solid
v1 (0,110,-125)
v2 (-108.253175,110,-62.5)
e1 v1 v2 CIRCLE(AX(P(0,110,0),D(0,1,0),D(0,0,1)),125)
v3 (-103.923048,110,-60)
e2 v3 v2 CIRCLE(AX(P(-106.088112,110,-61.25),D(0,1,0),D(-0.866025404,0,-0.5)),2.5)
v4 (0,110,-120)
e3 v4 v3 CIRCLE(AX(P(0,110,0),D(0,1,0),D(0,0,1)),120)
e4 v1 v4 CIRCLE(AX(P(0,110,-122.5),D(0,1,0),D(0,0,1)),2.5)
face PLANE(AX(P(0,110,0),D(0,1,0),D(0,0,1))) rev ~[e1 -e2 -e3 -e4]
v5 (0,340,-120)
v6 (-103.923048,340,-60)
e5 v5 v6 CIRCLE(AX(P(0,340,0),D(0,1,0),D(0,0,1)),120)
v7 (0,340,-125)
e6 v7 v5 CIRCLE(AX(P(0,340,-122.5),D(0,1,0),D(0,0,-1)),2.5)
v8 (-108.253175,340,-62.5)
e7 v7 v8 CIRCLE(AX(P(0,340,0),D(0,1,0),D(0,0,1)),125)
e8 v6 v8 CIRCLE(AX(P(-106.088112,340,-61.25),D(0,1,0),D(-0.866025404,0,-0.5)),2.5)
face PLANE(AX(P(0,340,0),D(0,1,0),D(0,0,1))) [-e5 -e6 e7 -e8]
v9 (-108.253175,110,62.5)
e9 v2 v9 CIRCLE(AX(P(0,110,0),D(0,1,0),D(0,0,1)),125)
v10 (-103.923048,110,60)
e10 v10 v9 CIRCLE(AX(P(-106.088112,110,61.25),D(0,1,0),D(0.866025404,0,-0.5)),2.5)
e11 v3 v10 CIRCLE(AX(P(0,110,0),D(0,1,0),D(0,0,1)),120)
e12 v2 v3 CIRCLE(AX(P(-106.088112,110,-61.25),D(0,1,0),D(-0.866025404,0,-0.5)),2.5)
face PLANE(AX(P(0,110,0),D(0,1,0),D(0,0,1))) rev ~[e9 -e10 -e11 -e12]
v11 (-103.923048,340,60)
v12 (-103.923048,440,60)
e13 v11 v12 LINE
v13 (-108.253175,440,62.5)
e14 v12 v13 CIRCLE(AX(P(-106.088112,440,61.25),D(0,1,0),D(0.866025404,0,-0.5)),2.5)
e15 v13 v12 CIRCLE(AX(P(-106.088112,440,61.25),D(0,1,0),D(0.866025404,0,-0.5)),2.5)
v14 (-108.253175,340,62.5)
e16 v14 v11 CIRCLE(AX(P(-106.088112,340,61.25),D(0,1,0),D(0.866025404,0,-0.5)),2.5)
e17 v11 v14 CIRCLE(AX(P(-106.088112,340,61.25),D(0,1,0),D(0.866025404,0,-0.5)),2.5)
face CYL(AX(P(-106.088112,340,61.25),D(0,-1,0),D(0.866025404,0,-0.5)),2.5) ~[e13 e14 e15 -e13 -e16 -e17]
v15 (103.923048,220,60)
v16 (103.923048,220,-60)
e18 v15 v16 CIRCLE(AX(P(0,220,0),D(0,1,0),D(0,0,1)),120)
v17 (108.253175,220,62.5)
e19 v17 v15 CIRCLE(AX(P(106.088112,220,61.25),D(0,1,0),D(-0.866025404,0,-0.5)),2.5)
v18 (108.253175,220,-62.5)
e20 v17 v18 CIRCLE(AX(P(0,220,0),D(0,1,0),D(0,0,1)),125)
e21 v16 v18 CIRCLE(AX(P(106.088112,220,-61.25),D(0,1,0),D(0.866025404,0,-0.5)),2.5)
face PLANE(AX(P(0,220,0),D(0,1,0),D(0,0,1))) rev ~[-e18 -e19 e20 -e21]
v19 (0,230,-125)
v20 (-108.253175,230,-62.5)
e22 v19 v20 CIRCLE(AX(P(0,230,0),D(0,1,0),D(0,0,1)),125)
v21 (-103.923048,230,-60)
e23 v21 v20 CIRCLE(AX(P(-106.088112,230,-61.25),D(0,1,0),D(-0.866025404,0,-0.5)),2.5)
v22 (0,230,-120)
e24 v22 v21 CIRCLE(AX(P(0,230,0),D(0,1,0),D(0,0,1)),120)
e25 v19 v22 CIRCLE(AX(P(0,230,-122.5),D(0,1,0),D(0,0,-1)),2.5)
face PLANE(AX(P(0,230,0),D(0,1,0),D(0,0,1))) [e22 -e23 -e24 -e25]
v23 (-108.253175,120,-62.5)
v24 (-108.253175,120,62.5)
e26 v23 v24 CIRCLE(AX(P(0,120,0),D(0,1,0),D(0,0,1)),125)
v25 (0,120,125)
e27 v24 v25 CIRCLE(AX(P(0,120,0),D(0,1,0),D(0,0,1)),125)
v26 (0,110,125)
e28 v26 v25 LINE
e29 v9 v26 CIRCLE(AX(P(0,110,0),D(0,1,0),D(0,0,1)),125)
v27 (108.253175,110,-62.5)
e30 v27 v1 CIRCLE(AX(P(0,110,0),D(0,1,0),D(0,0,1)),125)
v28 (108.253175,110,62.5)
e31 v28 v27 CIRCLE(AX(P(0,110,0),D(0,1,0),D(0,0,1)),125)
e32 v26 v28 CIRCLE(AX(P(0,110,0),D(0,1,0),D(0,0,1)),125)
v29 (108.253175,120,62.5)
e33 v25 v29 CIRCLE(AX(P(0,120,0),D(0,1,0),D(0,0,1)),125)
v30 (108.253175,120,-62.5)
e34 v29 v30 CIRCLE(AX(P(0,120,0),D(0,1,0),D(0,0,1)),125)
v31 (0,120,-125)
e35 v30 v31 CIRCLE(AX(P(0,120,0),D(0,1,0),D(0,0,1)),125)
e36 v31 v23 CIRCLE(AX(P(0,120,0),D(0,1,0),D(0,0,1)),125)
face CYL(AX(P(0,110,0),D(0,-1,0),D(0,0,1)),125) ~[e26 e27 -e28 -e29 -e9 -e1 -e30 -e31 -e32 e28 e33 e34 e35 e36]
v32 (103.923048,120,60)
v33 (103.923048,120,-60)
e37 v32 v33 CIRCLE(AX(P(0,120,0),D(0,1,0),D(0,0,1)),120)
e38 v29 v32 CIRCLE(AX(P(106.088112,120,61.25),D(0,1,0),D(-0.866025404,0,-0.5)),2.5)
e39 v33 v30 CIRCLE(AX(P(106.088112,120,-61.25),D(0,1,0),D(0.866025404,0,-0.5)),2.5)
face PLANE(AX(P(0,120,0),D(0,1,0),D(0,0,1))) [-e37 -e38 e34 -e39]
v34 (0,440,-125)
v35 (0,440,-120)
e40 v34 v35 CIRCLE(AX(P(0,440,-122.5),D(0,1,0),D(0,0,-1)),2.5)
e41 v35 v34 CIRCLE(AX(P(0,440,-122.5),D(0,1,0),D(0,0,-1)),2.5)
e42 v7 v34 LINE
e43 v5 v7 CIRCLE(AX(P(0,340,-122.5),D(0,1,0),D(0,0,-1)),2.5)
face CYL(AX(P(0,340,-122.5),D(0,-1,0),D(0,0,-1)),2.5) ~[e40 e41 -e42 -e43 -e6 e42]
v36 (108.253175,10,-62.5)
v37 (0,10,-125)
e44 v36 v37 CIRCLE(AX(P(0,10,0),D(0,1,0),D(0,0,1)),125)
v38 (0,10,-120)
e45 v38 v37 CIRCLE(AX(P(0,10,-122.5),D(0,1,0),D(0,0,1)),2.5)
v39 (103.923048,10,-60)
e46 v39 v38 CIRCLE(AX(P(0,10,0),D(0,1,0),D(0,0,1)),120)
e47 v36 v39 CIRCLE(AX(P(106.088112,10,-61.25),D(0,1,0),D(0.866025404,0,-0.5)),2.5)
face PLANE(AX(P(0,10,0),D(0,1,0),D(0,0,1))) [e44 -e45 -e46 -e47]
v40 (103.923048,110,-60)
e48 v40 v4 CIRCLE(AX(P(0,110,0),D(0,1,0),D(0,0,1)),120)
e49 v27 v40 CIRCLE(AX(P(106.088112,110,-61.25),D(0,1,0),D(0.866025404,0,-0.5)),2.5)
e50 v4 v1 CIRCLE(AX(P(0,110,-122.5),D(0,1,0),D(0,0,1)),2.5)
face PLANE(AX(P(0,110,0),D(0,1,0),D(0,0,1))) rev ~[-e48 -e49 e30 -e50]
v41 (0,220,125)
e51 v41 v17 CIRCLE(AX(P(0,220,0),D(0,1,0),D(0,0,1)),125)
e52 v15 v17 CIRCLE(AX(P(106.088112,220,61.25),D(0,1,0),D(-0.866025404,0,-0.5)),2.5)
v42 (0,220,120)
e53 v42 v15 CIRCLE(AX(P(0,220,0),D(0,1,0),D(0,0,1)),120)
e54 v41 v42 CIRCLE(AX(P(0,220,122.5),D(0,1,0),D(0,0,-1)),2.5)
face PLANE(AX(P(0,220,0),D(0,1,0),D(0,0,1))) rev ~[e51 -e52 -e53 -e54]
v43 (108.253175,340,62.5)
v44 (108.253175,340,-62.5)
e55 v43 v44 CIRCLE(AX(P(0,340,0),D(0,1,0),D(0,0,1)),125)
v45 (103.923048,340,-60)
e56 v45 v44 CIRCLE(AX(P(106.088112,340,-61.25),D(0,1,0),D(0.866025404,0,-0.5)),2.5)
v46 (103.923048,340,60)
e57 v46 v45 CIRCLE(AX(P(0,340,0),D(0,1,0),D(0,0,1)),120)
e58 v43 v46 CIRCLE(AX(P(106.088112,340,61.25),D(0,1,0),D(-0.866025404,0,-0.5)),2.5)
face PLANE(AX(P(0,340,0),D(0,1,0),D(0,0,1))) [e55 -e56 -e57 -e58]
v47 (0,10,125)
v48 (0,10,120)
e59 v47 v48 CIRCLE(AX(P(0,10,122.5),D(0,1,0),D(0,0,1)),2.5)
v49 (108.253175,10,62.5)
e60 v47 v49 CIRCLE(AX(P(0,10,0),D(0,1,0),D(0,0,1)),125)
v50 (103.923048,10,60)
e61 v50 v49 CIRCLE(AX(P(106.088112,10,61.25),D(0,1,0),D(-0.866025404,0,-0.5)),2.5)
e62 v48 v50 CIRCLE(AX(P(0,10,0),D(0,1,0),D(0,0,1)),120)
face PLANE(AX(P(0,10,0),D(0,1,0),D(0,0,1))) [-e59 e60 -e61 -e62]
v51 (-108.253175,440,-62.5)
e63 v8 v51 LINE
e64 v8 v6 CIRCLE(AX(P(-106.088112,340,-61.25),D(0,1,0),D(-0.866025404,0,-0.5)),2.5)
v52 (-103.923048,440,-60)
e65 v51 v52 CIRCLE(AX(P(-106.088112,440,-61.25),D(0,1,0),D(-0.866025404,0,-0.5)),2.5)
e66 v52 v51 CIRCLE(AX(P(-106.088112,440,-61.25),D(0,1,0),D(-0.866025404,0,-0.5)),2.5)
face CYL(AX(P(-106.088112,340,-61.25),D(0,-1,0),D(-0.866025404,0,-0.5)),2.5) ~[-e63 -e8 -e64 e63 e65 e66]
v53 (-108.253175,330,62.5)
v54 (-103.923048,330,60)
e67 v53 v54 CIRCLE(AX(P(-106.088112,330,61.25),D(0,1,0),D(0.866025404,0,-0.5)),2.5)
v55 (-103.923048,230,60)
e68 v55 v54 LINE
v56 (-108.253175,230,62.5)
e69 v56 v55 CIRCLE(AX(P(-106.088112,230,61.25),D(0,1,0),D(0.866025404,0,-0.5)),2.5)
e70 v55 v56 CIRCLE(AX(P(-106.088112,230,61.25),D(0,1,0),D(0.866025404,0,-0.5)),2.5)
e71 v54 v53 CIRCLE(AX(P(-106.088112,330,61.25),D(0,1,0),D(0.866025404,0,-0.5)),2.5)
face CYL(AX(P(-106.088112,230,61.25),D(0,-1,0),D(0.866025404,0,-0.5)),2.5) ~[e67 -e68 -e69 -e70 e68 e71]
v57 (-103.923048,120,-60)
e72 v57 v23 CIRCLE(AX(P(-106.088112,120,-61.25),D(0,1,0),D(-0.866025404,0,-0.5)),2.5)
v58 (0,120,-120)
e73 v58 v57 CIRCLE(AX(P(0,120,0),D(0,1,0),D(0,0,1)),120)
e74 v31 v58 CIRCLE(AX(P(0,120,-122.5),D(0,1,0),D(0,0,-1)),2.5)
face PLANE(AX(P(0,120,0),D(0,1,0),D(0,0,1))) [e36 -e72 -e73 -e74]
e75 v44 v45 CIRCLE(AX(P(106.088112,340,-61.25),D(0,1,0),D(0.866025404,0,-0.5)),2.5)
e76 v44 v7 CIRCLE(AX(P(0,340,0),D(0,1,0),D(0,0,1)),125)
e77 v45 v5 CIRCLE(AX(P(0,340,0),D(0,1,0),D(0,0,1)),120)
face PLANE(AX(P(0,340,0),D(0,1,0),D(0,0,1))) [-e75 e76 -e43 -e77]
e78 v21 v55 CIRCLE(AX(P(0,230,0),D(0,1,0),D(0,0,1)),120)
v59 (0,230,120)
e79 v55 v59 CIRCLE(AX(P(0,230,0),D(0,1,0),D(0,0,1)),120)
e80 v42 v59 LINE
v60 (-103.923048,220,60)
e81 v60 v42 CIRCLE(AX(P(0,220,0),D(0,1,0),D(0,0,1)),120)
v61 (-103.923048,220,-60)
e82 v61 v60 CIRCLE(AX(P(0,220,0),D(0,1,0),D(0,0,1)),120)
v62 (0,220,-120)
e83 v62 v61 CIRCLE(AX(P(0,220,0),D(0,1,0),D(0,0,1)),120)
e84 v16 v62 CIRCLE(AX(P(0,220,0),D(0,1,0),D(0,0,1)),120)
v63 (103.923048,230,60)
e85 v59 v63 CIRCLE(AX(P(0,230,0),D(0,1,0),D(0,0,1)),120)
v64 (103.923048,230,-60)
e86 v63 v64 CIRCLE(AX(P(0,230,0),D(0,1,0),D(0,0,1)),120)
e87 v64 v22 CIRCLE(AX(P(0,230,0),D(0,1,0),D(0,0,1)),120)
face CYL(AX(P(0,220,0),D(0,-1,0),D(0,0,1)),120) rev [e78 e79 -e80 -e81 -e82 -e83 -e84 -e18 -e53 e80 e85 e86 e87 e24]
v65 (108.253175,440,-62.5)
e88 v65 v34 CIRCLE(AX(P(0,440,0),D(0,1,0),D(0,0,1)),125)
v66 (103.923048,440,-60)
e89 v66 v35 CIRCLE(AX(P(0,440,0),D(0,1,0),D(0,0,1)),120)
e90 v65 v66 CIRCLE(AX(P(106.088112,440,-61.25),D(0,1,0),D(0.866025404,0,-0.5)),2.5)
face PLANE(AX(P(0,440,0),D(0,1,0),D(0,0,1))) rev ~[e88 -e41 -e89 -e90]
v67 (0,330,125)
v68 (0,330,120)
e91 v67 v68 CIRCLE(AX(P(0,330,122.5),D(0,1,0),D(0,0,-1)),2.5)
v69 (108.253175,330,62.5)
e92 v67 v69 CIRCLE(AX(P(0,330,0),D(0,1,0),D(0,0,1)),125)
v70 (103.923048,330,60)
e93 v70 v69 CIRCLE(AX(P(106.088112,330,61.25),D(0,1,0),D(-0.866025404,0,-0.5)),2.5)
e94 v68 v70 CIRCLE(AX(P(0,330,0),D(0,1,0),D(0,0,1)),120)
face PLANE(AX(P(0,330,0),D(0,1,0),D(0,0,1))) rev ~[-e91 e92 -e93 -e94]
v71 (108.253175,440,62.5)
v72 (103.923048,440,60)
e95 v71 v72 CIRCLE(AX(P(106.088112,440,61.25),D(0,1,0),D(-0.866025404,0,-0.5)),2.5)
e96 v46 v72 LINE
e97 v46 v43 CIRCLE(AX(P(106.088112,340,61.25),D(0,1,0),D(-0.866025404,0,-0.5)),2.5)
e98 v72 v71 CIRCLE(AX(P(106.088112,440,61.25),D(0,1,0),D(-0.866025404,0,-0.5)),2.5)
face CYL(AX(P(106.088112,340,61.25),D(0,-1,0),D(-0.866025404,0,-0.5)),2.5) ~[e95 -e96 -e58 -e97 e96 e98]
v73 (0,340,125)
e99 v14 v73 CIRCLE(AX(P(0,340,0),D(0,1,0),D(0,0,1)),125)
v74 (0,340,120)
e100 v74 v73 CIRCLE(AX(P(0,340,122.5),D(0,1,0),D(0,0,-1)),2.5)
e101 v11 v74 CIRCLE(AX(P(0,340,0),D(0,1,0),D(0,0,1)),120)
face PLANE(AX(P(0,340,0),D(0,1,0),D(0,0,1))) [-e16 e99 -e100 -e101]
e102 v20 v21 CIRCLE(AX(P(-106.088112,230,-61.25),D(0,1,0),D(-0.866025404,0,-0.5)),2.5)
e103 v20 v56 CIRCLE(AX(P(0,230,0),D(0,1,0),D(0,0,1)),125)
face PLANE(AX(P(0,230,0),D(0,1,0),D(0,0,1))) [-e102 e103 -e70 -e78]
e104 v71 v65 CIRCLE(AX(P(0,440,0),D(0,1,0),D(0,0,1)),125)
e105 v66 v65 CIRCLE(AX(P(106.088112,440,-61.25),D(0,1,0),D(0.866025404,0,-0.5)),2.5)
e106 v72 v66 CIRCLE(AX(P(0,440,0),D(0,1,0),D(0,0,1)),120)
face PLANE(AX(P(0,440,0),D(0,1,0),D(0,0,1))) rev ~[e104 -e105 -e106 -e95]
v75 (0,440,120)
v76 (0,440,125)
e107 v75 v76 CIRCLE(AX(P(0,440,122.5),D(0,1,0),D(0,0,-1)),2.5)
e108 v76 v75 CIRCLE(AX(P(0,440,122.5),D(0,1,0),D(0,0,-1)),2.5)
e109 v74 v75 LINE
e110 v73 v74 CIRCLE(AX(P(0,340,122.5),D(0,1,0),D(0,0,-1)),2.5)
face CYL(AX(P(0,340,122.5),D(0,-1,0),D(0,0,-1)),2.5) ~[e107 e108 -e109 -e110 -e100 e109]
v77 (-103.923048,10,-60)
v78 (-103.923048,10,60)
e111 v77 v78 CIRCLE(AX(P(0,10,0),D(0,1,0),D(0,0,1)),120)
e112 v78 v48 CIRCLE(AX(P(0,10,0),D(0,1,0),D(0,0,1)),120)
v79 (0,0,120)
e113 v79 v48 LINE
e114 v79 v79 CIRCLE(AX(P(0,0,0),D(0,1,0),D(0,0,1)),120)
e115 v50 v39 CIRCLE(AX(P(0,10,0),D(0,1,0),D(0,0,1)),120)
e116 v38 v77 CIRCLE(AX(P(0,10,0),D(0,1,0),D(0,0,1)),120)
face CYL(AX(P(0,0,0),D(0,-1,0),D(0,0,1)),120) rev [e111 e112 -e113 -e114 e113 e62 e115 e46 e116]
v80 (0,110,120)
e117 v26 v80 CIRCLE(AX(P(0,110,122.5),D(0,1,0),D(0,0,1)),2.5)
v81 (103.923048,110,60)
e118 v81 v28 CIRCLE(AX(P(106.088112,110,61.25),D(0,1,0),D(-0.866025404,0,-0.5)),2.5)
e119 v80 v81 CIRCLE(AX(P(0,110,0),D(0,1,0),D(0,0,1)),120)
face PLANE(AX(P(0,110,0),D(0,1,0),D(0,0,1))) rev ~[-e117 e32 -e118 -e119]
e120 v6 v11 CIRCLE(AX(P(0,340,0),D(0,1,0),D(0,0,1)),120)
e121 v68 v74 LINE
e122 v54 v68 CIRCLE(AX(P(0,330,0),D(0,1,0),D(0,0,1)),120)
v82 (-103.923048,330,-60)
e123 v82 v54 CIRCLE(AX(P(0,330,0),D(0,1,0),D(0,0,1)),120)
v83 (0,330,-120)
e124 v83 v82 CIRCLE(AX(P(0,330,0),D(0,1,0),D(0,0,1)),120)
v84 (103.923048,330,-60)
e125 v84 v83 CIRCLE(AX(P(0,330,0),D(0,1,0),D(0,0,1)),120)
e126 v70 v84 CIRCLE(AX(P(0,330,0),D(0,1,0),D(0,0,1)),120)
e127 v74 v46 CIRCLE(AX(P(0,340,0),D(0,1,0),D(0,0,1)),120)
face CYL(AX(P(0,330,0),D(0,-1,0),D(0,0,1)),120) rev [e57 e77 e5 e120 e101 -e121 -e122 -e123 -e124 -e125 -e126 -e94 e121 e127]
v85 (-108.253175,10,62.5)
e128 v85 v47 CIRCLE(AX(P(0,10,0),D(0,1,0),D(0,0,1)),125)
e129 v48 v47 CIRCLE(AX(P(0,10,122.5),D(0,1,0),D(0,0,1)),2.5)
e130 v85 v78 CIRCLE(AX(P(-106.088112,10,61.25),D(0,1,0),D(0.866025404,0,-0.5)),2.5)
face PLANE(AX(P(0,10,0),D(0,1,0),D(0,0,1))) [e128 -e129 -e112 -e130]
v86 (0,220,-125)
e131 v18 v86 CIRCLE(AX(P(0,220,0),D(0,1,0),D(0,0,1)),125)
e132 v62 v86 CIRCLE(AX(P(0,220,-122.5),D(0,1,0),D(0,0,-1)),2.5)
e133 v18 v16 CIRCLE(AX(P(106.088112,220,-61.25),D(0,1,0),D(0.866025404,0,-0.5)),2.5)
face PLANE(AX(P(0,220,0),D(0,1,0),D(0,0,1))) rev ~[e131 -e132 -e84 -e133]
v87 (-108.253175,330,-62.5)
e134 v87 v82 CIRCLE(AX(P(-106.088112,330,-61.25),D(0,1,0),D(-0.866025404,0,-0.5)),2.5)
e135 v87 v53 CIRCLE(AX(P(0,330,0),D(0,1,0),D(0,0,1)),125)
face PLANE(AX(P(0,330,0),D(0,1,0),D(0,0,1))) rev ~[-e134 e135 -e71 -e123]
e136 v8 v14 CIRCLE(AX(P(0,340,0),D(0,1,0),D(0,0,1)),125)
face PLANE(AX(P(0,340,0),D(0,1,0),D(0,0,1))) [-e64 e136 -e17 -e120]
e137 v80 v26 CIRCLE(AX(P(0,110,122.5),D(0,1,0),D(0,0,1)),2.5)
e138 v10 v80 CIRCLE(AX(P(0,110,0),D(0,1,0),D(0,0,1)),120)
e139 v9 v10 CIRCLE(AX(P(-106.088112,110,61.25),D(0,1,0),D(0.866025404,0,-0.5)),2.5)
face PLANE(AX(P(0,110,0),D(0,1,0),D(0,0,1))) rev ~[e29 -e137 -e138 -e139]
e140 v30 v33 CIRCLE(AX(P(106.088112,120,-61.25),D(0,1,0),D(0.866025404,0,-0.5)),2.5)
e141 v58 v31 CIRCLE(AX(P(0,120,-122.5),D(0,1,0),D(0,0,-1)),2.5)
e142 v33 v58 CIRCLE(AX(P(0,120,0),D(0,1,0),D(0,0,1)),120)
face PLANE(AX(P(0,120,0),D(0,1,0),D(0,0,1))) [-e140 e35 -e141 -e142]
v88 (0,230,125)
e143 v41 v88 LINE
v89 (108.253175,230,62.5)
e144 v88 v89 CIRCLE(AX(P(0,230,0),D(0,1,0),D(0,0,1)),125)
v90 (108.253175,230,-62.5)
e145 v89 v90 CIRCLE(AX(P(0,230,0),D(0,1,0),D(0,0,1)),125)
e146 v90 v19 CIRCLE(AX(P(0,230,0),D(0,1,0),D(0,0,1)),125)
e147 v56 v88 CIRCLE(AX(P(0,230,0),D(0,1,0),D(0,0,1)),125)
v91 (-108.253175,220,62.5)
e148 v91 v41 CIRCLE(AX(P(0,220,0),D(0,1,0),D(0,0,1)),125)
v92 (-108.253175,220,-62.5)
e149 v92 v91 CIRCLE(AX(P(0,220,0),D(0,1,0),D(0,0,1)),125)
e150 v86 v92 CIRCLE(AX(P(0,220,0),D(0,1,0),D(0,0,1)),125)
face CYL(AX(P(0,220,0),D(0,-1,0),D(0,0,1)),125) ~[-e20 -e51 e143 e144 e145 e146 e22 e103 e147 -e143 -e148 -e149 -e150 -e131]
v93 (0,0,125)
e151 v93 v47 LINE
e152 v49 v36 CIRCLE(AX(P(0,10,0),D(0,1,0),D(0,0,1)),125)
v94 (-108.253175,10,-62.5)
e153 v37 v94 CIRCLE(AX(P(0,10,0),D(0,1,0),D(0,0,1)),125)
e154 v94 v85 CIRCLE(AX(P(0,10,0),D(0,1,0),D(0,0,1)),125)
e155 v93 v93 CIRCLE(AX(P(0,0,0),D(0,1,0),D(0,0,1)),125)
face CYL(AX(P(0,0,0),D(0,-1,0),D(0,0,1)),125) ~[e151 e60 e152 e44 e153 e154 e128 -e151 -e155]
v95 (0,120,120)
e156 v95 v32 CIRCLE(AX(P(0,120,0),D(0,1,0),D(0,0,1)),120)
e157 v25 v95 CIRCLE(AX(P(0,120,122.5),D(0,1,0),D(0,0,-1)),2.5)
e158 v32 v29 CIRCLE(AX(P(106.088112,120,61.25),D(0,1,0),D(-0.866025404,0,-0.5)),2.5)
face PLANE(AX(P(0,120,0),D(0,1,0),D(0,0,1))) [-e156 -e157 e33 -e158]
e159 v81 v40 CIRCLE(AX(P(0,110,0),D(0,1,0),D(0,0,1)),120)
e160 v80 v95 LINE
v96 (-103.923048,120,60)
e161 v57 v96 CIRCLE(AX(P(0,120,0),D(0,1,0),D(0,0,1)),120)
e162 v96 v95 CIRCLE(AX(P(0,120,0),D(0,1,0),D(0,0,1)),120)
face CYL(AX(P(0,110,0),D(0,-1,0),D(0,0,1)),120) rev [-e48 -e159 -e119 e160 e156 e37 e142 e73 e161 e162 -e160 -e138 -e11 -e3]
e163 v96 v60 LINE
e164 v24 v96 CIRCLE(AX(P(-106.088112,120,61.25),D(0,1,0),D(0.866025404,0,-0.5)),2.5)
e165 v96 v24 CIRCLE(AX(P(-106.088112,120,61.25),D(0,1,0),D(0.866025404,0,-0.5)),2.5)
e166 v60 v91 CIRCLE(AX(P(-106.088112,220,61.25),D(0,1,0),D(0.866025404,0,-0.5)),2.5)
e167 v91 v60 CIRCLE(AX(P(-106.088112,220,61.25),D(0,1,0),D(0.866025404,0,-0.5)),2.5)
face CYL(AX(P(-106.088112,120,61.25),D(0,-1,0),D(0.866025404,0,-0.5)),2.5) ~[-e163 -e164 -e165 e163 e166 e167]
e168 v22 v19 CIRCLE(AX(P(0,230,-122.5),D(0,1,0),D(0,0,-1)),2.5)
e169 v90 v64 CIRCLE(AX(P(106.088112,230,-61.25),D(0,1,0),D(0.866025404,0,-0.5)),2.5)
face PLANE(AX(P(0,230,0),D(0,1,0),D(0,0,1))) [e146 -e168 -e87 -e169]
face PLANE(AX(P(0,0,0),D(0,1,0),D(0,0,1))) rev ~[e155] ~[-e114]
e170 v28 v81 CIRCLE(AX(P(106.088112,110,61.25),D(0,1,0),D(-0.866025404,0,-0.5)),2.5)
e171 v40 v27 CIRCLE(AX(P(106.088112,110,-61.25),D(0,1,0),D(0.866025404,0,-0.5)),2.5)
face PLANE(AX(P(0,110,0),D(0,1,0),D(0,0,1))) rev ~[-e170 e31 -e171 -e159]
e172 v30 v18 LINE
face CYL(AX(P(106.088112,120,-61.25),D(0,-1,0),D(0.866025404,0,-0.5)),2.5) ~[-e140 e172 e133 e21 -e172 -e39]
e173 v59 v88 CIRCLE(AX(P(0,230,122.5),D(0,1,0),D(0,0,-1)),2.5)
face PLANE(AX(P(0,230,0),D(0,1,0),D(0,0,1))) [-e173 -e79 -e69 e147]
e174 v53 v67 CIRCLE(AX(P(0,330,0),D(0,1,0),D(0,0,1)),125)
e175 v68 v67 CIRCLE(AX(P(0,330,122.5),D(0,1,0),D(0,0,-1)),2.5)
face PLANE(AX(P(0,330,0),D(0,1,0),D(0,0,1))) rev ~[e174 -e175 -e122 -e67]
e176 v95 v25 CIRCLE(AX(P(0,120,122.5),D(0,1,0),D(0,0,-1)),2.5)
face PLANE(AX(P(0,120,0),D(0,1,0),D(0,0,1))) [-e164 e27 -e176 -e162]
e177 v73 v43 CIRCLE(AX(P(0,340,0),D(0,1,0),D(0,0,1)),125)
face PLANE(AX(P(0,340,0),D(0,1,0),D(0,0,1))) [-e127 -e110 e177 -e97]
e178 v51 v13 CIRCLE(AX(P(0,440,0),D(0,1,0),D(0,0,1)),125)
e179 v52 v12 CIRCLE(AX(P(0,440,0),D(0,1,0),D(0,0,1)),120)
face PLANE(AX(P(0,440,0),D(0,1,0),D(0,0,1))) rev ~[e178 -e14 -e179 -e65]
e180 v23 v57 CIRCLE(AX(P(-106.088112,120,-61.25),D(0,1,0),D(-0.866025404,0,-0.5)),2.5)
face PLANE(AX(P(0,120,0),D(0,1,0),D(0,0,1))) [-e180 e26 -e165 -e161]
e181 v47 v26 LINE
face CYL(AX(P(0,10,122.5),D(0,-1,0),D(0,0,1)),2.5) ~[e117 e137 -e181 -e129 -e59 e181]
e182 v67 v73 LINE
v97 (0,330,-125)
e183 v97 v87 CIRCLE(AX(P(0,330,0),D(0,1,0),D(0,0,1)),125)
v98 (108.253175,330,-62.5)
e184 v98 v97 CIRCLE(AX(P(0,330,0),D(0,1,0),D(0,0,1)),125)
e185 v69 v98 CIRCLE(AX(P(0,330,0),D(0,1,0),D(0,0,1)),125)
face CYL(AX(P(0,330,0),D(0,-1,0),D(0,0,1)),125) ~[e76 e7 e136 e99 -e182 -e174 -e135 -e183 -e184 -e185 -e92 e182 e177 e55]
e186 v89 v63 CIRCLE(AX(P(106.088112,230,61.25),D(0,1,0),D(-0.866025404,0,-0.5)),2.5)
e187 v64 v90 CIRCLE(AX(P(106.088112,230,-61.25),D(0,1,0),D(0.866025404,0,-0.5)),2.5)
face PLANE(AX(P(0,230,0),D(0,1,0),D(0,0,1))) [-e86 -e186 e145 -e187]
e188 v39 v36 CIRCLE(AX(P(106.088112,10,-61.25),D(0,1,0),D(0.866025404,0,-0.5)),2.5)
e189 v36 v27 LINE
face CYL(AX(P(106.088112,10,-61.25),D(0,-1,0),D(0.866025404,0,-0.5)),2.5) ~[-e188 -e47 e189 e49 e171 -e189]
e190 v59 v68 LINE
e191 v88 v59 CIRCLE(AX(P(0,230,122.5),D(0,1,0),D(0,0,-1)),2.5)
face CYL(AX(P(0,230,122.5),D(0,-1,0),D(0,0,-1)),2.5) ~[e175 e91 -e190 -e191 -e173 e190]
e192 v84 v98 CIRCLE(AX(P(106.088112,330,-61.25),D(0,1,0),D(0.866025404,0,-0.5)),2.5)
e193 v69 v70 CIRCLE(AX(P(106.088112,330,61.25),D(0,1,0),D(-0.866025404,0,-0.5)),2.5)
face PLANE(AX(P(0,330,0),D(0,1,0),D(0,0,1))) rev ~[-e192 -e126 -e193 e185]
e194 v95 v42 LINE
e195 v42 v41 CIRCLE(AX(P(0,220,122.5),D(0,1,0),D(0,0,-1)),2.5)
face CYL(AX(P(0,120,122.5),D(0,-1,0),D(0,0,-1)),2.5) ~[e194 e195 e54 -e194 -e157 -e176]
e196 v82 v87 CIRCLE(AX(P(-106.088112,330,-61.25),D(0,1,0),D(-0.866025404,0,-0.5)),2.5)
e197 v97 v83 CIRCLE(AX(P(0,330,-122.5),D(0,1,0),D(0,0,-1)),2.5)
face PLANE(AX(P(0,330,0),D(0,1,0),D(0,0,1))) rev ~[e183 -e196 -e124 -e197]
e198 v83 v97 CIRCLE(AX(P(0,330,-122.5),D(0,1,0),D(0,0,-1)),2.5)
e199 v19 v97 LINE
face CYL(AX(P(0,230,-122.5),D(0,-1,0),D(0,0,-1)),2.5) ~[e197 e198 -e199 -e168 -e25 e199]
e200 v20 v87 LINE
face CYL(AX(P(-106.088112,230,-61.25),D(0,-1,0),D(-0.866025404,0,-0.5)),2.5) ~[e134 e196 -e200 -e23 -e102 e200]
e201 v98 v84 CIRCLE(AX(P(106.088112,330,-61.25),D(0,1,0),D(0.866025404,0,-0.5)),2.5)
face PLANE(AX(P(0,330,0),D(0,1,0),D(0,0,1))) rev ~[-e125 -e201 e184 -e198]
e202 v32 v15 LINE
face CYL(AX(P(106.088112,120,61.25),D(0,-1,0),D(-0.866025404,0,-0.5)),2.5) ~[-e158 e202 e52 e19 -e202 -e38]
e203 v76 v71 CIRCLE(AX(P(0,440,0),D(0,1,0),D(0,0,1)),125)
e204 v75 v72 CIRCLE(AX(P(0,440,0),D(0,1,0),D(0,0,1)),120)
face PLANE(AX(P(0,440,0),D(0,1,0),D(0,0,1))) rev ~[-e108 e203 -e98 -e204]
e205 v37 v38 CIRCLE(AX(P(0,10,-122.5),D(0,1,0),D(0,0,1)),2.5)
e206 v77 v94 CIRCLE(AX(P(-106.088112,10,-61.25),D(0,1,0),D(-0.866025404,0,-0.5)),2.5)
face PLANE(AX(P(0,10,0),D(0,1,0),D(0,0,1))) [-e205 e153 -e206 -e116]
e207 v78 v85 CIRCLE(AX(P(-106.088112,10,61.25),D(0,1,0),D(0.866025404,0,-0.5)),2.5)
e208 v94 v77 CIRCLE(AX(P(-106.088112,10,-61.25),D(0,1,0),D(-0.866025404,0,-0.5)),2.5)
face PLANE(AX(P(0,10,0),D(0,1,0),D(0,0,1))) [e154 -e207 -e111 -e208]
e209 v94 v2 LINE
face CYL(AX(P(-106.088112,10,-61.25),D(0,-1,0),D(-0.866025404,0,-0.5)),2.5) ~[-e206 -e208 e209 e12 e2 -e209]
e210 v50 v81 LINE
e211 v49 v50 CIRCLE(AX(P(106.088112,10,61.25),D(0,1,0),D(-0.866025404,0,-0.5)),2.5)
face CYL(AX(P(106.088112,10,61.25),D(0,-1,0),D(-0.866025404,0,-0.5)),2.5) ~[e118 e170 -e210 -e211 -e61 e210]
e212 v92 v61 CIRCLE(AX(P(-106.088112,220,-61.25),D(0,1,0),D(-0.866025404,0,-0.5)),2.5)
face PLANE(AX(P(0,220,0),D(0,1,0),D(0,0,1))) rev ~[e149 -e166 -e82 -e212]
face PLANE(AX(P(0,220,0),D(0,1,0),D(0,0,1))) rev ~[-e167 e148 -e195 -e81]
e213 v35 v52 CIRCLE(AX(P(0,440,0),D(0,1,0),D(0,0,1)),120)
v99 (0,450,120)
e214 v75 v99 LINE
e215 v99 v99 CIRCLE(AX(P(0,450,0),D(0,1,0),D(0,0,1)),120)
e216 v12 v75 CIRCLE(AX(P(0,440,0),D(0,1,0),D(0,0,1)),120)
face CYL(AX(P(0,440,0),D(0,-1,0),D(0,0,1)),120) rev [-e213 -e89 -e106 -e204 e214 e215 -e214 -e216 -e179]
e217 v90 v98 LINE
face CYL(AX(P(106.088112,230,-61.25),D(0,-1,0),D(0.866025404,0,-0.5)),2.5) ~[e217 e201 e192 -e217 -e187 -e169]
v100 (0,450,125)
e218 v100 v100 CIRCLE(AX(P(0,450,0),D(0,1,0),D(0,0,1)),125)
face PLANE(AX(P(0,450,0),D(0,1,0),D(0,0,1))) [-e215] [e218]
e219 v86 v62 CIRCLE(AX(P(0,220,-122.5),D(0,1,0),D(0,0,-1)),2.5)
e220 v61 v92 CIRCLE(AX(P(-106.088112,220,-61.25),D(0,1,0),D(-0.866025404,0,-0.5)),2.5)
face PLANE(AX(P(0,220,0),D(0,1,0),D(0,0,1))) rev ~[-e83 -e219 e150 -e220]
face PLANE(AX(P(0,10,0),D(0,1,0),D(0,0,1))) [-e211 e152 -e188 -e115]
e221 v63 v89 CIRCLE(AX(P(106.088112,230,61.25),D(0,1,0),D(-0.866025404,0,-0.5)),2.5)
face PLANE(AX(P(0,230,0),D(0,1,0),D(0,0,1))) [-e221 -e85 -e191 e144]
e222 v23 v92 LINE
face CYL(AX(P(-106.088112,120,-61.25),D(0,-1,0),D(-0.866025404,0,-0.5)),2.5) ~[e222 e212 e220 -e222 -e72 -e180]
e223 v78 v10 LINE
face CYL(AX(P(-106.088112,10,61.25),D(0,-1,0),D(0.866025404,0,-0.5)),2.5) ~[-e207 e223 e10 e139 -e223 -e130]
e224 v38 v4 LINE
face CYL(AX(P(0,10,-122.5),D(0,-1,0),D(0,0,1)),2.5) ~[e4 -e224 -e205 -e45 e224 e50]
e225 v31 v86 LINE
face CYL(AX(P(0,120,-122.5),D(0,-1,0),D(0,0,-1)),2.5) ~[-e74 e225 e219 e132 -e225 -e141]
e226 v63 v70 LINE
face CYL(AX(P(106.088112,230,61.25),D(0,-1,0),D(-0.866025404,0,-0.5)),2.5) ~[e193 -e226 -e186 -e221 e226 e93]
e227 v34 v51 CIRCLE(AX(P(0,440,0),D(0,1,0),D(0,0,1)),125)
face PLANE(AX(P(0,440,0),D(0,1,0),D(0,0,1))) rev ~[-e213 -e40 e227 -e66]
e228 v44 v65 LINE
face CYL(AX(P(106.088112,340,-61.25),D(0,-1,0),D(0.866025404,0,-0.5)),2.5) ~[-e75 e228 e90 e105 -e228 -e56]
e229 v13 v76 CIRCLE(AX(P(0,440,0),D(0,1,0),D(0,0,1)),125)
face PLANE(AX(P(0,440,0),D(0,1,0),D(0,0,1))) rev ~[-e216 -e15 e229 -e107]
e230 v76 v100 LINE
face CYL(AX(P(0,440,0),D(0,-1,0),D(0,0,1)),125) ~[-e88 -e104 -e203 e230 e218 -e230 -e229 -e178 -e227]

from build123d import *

# Parameters (mm, degrees)
SKETCH1_R           = 125
SKETCH1_R_2         = 120
BOSS_EXTRUDE1_DEPTH = 10
SKETCH2_R           = 2.5
BOSS_EXTRUDE2_DEPTH = 100
SKETCH3_R           = 125
SKETCH3_R_2         = 120
BOSS_EXTRUDE3_DEPTH = 10
SKETCH4_R           = 2.5
BOSS_EXTRUDE4_DEPTH = 100
SKETCH5_R           = 125
SKETCH5_R_2         = 120
BOSS_EXTRUDE5_DEPTH = 10
SKETCH6_R           = 2.5
BOSS_EXTRUDE6_DEPTH = 100
SKETCH7_R           = 125
SKETCH7_R_2         = 120
BOSS_EXTRUDE7_DEPTH = 10
SKETCH8_R           = 2.5
BOSS_EXTRUDE8_DEPTH = 100
SKETCH9_R           = 125
SKETCH9_R_2         = 120
BOSS_EXTRUDE9_DEPTH = 10


with BuildPart() as part:
    # Sketch1 → Boss-Extrude1 (new body)
    with BuildSketch(Plane(origin=(0, 0, 0), x_dir=(1, 0, 0), z_dir=(0, 1, 0))):
        with Locations(Location((0, 0, 0), (0, 0, 270))):
            Circle(SKETCH1_R)
        with Locations(Location((0, 0, 0), (0, 0, 270))):
            Circle(SKETCH1_R_2, mode=Mode.SUBTRACT)
    extrude(amount=BOSS_EXTRUDE1_DEPTH)

    # Sketch2 → Boss-Extrude2 (add)
    with BuildSketch(Plane(origin=(0, 10, 0), x_dir=(1, 0, 0), z_dir=(0, 1, 0))):
        with Locations(Location((0, 122.5, 0), (0, 0, 270))):
            Circle(SKETCH2_R)
        with Locations(Location((106.088111964, 61.25, 0), (0, 0, 30))):
            Circle(SKETCH2_R)
        with Locations(Location((106.088111964, -61.25, 0), (0, 0, 150))):
            Circle(SKETCH2_R)
        with Locations(Location((0, -122.5, 0), (0, 0, 270))):
            Circle(SKETCH2_R)
        with Locations(Location((-106.088111964, -61.25, 0), (0, 0, 30))):
            Circle(SKETCH2_R)
        with Locations(Location((-106.088111964, 61.25, 0), (0, 0, 150))):
            Circle(SKETCH2_R)
    extrude(amount=BOSS_EXTRUDE2_DEPTH)

    # Sketch3 → Boss-Extrude3 (add)
    with BuildSketch(Plane(origin=(0, 110, 0), x_dir=(1, 0, 0), z_dir=(0, 1, 0))):
        with Locations(Location((0, 0, 0), (0, 0, 270))):
            Circle(SKETCH3_R)
        with Locations(Location((0, 0, 0), (0, 0, 270))):
            Circle(SKETCH3_R_2, mode=Mode.SUBTRACT)
    extrude(amount=BOSS_EXTRUDE3_DEPTH)

    # Sketch4 → Boss-Extrude4 (add)
    with BuildSketch(Plane(origin=(0, 120, 0), x_dir=(1, 0, 0), z_dir=(0, 1, 0))):
        with Locations(Location((0, 122.5, 0), (0, 0, 90))):
            Circle(SKETCH4_R)
        with Locations(Location((106.088111964, 61.25, 0), (0, 0, 30))):
            Circle(SKETCH4_R)
        with Locations(Location((106.088111964, -61.25, 0), (0, 0, 150))):
            Circle(SKETCH4_R)
        with Locations(Location((0, -122.5, 0), (0, 0, 90))):
            Circle(SKETCH4_R)
        with Locations(Location((-106.088111964, -61.25, 0), (0, 0, 30))):
            Circle(SKETCH4_R)
        with Locations(Location((-106.088111964, 61.25, 0), (0, 0, 150))):
            Circle(SKETCH4_R)
    extrude(amount=BOSS_EXTRUDE4_DEPTH)

    # Sketch5 → Boss-Extrude5 (add)
    with BuildSketch(Plane(origin=(0, 220, 0), x_dir=(1, 0, 0), z_dir=(0, 1, 0))):
        with Locations(Location((0, 0, 0), (0, 0, 270))):
            Circle(SKETCH5_R)
        with Locations(Location((0, 0, 0), (0, 0, 270))):
            Circle(SKETCH5_R_2, mode=Mode.SUBTRACT)
    extrude(amount=BOSS_EXTRUDE5_DEPTH)

    # Sketch6 → Boss-Extrude6 (add)
    with BuildSketch(Plane(origin=(0, 230, 0), x_dir=(1, 0, 0), z_dir=(0, 1, 0))):
        with Locations(Location((0, 122.5, 0), (0, 0, 90))):
            Circle(SKETCH6_R)
        with Locations(Location((106.088111964, 61.25, 0), (0, 0, 30))):
            Circle(SKETCH6_R)
        with Locations(Location((106.088111964, -61.25, 0), (0, 0, 150))):
            Circle(SKETCH6_R)
        with Locations(Location((0, -122.5, 0), (0, 0, 90))):
            Circle(SKETCH6_R)
        with Locations(Location((-106.088111964, -61.25, 0), (0, 0, 30))):
            Circle(SKETCH6_R)
        with Locations(Location((-106.088111964, 61.25, 0), (0, 0, 150))):
            Circle(SKETCH6_R)
    extrude(amount=BOSS_EXTRUDE6_DEPTH)

    # Sketch7 → Boss-Extrude7 (add)
    with BuildSketch(Plane(origin=(0, 330, 0), x_dir=(1, 0, 0), z_dir=(0, 1, 0))):
        with Locations(Location((0, 0, 0), (0, 0, 270))):
            Circle(SKETCH7_R)
        with Locations(Location((0, 0, 0), (0, 0, 270))):
            Circle(SKETCH7_R_2, mode=Mode.SUBTRACT)
    extrude(amount=BOSS_EXTRUDE7_DEPTH)

    # Sketch8 → Boss-Extrude8 (add)
    with BuildSketch(Plane(origin=(0, 340, 0), x_dir=(1, 0, 0), z_dir=(0, 1, 0))):
        with Locations(Location((0, 122.5, 0), (0, 0, 90))):
            Circle(SKETCH8_R)
        with Locations(Location((106.088111964, 61.25, 0), (0, 0, 30))):
            Circle(SKETCH8_R)
        with Locations(Location((106.088111964, -61.25, 0), (0, 0, 150))):
            Circle(SKETCH8_R)
        with Locations(Location((0, -122.5, 0), (0, 0, 90))):
            Circle(SKETCH8_R)
        with Locations(Location((-106.088111964, -61.25, 0), (0, 0, 30))):
            Circle(SKETCH8_R)
        with Locations(Location((-106.088111964, 61.25, 0), (0, 0, 150))):
            Circle(SKETCH8_R)
    extrude(amount=BOSS_EXTRUDE8_DEPTH)

    # Sketch9 → Boss-Extrude9 (add)
    with BuildSketch(Plane(origin=(0, 440, 0), x_dir=(1, 0, 0), z_dir=(0, 1, 0))):
        with Locations(Location((0, 0, 0), (0, 0, 270))):
            Circle(SKETCH9_R)
        with Locations(Location((0, 0, 0), (0, 0, 270))):
            Circle(SKETCH9_R_2, mode=Mode.SUBTRACT)
    extrude(amount=BOSS_EXTRUDE9_DEPTH)


solid = part.part
